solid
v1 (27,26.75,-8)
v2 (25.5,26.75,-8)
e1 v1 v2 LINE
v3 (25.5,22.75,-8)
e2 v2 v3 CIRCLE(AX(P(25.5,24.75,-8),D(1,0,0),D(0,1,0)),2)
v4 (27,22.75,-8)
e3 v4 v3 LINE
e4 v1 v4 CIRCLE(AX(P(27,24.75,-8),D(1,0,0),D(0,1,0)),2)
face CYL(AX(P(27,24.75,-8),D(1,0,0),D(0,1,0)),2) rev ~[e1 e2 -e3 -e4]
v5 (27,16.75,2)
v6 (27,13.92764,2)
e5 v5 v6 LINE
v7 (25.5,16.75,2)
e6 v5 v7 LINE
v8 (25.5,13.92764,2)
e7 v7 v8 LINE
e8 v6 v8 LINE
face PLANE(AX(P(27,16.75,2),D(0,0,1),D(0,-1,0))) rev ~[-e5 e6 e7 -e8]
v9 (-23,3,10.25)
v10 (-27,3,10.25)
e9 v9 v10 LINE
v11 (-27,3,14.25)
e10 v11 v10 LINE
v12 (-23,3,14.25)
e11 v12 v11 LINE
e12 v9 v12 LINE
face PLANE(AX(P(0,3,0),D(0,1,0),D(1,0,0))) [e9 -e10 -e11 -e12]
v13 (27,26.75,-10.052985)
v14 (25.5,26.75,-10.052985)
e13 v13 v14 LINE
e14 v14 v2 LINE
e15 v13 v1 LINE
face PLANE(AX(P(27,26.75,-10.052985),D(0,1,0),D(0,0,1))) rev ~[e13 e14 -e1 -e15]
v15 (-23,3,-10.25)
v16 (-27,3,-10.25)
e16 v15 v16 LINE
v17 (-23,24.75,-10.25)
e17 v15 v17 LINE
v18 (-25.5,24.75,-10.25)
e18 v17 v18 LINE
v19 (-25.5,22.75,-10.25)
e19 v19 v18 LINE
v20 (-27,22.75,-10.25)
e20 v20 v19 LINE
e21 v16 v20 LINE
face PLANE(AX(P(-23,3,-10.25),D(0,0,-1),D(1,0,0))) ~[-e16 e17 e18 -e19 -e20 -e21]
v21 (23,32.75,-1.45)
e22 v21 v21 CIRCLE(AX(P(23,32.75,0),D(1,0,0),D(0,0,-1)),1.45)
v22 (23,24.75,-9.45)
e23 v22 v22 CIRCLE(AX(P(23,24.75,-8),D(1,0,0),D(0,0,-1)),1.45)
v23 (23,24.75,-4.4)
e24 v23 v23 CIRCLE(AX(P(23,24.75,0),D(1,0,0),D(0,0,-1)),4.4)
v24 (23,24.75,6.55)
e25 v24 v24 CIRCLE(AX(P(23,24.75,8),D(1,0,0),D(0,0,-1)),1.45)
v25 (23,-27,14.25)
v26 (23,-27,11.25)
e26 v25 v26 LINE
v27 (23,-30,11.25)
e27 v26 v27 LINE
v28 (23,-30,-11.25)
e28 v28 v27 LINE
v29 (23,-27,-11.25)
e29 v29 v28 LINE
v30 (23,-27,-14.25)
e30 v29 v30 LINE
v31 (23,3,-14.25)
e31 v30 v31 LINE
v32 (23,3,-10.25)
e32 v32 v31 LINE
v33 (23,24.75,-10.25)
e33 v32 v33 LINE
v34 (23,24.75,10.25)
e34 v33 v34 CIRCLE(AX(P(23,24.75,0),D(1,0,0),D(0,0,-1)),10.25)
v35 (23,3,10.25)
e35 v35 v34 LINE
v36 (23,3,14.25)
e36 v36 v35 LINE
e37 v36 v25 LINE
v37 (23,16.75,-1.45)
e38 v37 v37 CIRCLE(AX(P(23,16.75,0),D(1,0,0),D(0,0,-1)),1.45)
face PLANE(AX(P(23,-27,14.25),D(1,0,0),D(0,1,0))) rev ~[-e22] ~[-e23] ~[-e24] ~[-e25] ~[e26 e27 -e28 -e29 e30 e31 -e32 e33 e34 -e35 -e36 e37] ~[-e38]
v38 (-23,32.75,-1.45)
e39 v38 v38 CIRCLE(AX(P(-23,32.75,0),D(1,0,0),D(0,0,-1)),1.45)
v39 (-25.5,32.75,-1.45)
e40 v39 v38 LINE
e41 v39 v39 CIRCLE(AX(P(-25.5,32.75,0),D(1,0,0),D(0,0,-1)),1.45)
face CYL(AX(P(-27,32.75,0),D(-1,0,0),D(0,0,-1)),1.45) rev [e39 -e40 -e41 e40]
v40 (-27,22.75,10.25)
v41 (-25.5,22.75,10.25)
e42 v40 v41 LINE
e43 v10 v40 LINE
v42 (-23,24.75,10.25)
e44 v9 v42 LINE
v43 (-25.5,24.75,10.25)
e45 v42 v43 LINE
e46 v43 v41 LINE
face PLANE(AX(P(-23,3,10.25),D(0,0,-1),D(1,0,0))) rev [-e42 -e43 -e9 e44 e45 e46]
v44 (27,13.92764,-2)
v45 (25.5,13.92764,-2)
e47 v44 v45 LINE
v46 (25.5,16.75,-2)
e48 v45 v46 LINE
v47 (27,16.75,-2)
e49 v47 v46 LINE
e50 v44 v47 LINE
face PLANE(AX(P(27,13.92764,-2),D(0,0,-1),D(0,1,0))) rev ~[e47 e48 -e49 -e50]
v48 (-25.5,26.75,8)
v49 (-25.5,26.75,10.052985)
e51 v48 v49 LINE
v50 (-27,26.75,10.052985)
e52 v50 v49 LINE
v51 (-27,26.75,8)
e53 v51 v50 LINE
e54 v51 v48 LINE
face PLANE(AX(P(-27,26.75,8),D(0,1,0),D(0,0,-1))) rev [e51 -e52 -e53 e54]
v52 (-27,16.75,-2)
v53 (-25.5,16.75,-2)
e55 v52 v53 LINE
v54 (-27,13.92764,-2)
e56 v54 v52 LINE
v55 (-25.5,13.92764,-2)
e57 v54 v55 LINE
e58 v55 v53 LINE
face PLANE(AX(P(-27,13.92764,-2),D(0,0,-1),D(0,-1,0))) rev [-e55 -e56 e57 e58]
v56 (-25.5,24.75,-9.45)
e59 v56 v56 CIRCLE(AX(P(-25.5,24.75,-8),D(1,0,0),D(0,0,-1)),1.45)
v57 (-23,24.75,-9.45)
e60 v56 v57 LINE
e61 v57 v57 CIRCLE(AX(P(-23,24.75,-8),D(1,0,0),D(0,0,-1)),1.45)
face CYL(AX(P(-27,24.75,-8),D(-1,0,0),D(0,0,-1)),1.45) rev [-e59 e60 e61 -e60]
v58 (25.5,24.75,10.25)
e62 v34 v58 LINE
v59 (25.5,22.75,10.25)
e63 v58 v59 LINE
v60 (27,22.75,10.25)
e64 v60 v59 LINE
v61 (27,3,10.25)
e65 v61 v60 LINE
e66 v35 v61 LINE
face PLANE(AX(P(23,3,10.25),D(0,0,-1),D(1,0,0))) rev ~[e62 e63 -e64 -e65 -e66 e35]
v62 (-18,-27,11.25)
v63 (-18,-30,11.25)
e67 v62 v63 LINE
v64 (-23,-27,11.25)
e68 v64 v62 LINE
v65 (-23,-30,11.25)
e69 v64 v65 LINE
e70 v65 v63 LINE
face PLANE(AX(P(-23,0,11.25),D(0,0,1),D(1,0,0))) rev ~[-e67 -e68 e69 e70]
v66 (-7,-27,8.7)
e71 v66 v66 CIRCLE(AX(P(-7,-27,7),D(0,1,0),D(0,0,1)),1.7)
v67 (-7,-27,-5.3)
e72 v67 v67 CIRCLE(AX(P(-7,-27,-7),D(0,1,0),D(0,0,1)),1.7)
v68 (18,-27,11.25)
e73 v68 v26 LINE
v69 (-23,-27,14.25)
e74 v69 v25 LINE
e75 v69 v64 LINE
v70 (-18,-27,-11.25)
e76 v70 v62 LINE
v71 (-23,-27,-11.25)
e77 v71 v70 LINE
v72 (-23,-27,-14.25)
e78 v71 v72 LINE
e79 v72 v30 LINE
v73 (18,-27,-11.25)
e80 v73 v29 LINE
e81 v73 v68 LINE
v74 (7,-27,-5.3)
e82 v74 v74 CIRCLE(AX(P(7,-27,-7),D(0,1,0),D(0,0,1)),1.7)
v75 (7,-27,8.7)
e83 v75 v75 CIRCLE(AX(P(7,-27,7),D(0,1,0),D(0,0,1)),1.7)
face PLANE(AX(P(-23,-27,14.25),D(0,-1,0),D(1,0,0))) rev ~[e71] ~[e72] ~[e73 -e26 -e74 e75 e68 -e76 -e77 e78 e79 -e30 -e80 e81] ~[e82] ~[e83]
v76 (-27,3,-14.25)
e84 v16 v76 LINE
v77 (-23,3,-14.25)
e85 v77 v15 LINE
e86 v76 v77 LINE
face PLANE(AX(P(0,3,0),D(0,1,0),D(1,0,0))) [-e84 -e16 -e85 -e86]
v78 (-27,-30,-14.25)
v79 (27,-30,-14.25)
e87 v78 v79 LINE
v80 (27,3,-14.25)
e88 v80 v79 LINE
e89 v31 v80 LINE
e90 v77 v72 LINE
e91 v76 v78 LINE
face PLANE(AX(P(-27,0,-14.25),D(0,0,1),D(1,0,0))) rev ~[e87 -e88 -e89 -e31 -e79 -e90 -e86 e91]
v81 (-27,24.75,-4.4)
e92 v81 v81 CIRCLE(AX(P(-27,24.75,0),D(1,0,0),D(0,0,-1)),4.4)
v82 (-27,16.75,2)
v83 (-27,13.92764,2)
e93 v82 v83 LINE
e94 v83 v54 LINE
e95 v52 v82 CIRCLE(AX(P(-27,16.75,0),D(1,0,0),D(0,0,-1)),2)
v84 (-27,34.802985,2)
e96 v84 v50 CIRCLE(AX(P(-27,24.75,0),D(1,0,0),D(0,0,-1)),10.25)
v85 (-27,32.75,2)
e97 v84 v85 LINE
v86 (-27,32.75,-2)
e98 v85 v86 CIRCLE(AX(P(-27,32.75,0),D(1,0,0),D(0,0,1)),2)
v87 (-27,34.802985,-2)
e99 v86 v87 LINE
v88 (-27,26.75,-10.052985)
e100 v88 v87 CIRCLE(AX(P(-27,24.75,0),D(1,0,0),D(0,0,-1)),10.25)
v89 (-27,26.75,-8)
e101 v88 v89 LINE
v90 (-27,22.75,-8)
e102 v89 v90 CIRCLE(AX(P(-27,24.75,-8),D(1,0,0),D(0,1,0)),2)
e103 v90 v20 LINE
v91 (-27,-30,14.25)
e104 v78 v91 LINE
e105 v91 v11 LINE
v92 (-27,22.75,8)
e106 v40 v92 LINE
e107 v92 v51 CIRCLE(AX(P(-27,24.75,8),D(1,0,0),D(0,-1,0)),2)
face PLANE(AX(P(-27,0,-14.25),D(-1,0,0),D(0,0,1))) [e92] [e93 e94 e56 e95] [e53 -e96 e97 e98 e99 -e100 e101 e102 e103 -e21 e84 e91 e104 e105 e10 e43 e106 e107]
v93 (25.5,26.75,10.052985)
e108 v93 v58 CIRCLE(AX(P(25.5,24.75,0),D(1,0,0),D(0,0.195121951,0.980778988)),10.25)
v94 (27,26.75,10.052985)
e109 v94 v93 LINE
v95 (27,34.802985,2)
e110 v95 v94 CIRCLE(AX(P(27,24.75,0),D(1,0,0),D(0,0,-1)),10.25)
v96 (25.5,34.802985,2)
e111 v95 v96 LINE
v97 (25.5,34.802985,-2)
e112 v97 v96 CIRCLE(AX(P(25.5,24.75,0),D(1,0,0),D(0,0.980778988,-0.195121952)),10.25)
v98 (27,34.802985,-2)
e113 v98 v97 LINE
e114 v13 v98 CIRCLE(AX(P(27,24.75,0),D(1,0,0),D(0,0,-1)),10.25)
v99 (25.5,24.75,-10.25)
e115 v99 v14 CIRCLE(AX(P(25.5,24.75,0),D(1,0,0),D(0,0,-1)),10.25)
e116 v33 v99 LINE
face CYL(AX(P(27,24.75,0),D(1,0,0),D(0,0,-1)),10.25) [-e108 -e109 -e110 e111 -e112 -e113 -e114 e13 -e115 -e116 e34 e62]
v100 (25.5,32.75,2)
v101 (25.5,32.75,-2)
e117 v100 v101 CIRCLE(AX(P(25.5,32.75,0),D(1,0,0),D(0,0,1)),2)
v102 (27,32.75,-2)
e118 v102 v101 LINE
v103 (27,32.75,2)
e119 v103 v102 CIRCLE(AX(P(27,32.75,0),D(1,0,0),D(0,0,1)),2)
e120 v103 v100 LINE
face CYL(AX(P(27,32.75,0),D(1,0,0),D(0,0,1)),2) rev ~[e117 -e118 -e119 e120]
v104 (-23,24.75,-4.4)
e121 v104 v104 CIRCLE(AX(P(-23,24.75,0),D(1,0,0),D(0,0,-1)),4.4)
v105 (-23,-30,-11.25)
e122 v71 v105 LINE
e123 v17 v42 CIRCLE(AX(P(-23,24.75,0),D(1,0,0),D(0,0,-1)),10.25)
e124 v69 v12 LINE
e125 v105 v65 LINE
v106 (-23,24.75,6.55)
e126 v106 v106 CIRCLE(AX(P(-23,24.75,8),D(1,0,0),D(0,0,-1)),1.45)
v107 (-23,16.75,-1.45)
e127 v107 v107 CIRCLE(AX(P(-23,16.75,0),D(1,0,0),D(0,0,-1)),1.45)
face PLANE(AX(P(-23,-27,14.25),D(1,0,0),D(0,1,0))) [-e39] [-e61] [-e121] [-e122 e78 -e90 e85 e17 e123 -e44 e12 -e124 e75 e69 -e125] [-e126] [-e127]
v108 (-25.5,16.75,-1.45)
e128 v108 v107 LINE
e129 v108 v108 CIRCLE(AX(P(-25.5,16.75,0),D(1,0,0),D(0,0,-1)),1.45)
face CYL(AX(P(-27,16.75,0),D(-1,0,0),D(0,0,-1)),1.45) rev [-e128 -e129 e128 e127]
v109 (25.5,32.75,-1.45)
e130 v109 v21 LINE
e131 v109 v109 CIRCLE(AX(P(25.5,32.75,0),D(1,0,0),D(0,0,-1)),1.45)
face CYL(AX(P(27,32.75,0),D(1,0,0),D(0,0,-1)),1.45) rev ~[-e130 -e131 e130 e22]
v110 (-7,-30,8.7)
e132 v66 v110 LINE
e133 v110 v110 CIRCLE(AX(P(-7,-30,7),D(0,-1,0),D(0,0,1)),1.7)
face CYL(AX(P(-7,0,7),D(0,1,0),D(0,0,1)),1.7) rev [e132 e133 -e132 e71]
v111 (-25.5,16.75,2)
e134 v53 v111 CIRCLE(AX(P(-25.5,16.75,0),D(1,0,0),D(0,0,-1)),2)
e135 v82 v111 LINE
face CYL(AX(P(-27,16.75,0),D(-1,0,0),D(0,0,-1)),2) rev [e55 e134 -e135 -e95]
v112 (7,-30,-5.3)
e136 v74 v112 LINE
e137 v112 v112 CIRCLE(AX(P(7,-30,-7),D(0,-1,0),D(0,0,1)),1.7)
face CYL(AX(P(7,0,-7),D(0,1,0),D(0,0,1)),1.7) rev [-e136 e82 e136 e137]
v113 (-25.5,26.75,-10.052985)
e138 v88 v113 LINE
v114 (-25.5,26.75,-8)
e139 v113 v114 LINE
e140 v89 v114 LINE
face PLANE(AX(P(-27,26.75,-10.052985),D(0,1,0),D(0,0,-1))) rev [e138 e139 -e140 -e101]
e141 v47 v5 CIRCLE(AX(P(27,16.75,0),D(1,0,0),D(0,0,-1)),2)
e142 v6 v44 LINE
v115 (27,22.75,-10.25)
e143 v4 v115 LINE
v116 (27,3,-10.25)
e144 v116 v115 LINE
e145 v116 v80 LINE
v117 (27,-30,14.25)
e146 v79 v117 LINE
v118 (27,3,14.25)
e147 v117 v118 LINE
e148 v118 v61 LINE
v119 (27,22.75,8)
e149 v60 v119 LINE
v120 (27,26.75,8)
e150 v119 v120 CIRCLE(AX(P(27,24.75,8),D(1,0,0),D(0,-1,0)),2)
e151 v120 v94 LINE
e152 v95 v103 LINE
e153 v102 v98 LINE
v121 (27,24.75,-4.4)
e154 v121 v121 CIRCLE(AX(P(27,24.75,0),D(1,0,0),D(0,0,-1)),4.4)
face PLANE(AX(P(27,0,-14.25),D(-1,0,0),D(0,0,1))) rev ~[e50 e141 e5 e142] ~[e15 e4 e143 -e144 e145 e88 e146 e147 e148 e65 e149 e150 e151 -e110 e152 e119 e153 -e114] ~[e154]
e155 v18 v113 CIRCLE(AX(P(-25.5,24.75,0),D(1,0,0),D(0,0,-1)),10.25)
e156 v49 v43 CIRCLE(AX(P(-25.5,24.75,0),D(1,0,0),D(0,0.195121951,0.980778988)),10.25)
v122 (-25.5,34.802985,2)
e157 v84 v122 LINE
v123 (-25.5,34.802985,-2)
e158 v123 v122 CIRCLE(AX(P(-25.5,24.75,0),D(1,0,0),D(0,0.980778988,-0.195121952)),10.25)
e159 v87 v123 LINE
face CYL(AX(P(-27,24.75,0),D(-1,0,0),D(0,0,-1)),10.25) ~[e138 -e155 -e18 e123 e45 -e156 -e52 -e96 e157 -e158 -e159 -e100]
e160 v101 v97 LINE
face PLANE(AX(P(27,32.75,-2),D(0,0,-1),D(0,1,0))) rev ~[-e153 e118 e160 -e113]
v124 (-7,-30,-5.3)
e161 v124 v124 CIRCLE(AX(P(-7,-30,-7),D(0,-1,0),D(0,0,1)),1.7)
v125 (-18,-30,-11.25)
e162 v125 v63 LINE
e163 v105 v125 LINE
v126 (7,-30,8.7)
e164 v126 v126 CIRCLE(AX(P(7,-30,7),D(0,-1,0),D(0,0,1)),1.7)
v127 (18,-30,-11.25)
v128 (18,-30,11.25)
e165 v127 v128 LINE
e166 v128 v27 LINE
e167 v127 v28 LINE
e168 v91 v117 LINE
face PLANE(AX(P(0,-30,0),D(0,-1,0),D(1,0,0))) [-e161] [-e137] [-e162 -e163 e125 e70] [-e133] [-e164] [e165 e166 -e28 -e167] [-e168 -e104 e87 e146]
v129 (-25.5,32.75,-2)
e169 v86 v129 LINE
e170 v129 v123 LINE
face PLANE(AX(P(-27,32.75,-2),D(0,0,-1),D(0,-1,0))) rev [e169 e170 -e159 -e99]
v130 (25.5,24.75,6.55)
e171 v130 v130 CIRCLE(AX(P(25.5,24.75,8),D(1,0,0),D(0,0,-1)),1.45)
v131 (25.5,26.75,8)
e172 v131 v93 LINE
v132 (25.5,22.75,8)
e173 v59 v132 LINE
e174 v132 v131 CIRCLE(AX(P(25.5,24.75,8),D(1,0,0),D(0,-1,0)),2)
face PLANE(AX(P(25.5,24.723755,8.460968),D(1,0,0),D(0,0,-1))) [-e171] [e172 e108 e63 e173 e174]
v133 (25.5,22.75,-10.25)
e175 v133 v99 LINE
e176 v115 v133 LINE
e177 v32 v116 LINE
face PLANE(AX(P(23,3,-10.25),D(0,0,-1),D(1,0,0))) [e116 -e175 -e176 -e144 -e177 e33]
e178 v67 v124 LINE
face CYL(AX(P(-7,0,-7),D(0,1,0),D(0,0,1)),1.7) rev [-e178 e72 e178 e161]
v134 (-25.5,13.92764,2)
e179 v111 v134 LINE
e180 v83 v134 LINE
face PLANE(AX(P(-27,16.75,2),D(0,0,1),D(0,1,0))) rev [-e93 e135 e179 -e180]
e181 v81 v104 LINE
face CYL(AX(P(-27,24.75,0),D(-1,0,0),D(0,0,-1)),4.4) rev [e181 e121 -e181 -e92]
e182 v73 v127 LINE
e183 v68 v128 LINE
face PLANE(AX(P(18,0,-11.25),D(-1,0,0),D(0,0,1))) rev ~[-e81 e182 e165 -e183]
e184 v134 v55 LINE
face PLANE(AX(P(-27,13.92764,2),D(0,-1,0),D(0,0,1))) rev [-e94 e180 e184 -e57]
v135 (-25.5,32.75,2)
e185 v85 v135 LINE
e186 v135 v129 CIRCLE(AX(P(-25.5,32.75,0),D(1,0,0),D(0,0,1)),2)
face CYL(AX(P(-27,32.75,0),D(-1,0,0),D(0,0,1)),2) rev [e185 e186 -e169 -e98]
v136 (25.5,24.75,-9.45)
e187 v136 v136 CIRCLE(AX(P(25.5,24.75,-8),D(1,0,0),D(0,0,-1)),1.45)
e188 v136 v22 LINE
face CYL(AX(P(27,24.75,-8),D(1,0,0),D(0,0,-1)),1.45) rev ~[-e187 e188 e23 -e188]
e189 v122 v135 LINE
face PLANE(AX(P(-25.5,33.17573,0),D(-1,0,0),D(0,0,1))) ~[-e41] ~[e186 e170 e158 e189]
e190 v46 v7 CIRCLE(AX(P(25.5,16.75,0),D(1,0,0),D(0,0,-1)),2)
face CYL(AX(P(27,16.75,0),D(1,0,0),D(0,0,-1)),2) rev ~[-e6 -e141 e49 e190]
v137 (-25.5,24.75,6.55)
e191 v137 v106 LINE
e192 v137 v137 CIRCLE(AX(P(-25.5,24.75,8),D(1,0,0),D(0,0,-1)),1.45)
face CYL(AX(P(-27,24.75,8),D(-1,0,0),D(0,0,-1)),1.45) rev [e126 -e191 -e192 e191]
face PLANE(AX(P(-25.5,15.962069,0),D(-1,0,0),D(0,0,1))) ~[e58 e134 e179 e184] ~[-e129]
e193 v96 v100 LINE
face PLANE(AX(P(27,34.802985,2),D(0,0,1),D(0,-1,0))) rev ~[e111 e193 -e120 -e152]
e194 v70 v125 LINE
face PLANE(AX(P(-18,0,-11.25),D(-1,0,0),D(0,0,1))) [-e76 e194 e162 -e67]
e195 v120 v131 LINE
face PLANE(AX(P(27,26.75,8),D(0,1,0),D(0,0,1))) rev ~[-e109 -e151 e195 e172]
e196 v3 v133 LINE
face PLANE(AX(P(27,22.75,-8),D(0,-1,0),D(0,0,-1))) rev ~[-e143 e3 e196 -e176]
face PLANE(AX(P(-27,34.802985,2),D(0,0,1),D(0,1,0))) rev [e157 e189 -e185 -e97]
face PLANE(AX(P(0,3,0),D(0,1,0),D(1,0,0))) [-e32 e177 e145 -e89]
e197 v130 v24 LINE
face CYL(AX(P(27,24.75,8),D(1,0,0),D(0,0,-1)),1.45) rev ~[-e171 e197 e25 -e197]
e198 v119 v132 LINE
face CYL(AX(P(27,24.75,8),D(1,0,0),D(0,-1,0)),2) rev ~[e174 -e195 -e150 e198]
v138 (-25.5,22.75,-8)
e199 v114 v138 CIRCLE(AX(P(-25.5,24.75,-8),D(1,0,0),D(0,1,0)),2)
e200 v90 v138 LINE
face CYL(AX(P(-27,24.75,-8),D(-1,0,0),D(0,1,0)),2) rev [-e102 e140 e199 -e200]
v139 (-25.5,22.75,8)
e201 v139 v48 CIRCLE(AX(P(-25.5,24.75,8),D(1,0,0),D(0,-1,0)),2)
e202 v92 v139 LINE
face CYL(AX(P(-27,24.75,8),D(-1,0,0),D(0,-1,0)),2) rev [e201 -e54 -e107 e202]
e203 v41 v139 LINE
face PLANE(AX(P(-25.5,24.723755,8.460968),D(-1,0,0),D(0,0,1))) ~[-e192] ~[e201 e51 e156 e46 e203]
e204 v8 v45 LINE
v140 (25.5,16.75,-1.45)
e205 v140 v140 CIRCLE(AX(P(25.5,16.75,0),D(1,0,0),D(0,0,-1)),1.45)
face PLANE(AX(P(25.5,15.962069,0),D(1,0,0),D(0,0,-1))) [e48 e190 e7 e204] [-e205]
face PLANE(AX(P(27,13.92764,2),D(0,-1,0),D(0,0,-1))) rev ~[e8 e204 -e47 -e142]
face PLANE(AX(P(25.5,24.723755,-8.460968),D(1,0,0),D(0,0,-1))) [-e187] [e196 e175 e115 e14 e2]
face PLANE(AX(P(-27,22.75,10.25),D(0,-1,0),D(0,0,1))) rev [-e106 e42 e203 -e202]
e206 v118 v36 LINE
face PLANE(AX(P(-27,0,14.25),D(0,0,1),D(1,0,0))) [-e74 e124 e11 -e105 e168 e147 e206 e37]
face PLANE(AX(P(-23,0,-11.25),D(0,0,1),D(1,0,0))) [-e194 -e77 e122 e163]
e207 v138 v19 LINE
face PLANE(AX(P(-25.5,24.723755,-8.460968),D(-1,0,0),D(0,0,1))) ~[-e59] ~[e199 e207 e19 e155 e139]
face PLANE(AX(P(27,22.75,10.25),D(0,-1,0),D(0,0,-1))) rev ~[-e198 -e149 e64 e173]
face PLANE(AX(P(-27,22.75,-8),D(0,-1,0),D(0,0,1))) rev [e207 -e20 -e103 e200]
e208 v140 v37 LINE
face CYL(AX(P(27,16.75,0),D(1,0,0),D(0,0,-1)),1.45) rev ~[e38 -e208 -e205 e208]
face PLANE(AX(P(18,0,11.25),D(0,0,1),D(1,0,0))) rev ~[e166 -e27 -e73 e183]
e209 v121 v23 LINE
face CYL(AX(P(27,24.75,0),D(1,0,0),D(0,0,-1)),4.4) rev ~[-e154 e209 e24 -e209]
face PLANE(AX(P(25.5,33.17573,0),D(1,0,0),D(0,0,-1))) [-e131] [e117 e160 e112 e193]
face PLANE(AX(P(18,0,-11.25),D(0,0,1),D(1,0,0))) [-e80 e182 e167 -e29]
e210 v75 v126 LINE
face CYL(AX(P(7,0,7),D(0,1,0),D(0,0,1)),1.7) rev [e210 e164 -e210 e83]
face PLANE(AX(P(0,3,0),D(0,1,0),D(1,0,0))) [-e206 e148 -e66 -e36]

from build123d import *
from build123d.topology import SkipClean

# Parameters (mm, degrees)
SKETCH1_W           = 54
SKETCH1_H           = 28.5
SKETCH1_W_2         = 5
SKETCH1_H_2         = 22.5
SKETCH1_R           = 1.7
SKETCH1_R_2         = 7.5
BOSS_EXTRUDE2_DEPTH = 3
SKETCH2_W           = 4
SKETCH2_H           = 20.5
BOSS_EXTRUDE3_DEPTH = 21.75
SKETCH4_R           = 10.25
BOSS_EXTRUDE4_DEPTH = 4
SKETCH6_R           = 4.4
SKETCH6_R_2         = 1.45
CUT_EXTRUDE3_DEPTH  = 4
SKETCH7_R           = 1.45
CUT_EXTRUDE4_DEPTH  = 1.5
SKETCH8_W           = 28.781481152
SKETCH8_H           = 28.5
BOSS_EXTRUDE5_DEPTH = 3
SKETCH9_R           = 1.7
CUT_EXTRUDE5_DEPTH  = 3
SKETCH10_W          = 54
SKETCH10_H          = 28.5
SKETCH10_R          = 1.7
SKETCH10_W_2        = 5
SKETCH10_H_2        = 22.5
BOSS_EXTRUDE7_DEPTH = 30
SKETCH11_W          = 46
SKETCH11_H          = 30
CUT_EXTRUDE6_DEPTH  = 30


with BuildPart() as part:
    # Sketch1 → Boss-Extrude2 (new body)
    with BuildSketch(Plane(origin=(0, 0, 0), x_dir=(1, 0, 0), z_dir=(0, 1, 0))):
        Rectangle(SKETCH1_W, SKETCH1_H)
        with Locations((20.5, 0)):
            Rectangle(SKETCH1_W_2, SKETCH1_H_2, mode=Mode.SUBTRACT)
        with Locations((-20.5, 0)):
            Rectangle(SKETCH1_W_2, SKETCH1_H_2, mode=Mode.SUBTRACT)
        with Locations(Location((-9, -8.25, 0), (0, 0, 270))):
            Circle(SKETCH1_R, mode=Mode.SUBTRACT)
        with Locations(Location((9, -8.25, 0), (0, 0, 270))):
            Circle(SKETCH1_R, mode=Mode.SUBTRACT)
        with Locations(Location((-9, 8.25, 0), (0, 0, 270))):
            Circle(SKETCH1_R, mode=Mode.SUBTRACT)
        with Locations(Location((0, 0, 0), (0, 0, 270))):
            Circle(SKETCH1_R_2, mode=Mode.SUBTRACT)
        with Locations(Location((9, 8.25, 0), (0, 0, 270))):
            Circle(SKETCH1_R, mode=Mode.SUBTRACT)
    extrude(amount=BOSS_EXTRUDE2_DEPTH)

    # Sketch2 → Boss-Extrude3 (add)
    with BuildSketch(Plane(origin=(0, 3, 0), x_dir=(1, 0, 0), z_dir=(0, 1, 0))):
        with Locations((25, 0)):
            Rectangle(SKETCH2_W, SKETCH2_H)
    boss_extrude3 = extrude(amount=BOSS_EXTRUDE3_DEPTH)

    # Sketch4 → Boss-Extrude4 (add)
    with BuildSketch(Plane(origin=(27, 0, 0), x_dir=(0, 0, -1), z_dir=(1, 0, 0))):
        with Locations((0, 24.75)):
            Circle(SKETCH4_R)
    boss_extrude4 = extrude(amount=-BOSS_EXTRUDE4_DEPTH)

    # Mirror1: Boss-Extrude3, Boss-Extrude4 across plane
    add(boss_extrude3.mirror(Plane(origin=(0, 0, 0), x_dir=(0, 0, 1), z_dir=(1, 0, 0))))
    add(boss_extrude4.mirror(Plane(origin=(0, 0, 0), x_dir=(0, 0, 1), z_dir=(1, 0, 0))))

    # Sketch6 → Cut-Extrude3 (cut)
    with BuildSketch(Plane(origin=(27, 0, 0), x_dir=(0, 0, -1), z_dir=(1, 0, 0))):
        with Locations((0, 24.75)):
            Circle(SKETCH6_R)
        with Locations((0, 32.75)):
            Circle(SKETCH6_R_2)
        with Locations((8, 24.75)):
            Circle(SKETCH6_R_2)
        with Locations((0, 16.75)):
            Circle(SKETCH6_R_2)
        with Locations((-8, 24.75)):
            Circle(SKETCH6_R_2)
    cut_extrude3 = extrude(amount=-CUT_EXTRUDE3_DEPTH, mode=Mode.SUBTRACT)

    # Mirror3: Cut-Extrude3 across plane
    add(cut_extrude3.mirror(Plane(origin=(0, 0, 0), x_dir=(0, 0, 1), z_dir=(1, 0, 0))), mode=Mode.SUBTRACT)

    # Sketch7 → Cut-Extrude4 (cut)
    # profile 1 of 4: a face of its own
    with BuildSketch(Plane(origin=(27, 0, 0), x_dir=(0, 0, -1), z_dir=(1, 0, 0))):
        with BuildLine():
            ThreePointArc((10.25, 24.75), (10.200627247, 25.754840168), (10.052984631, 26.75))
            Line((10.052984631, 26.75), (8, 26.75))
            ThreePointArc((8, 26.75), (6, 24.75), (8, 22.75))
            Line((8, 22.75), (10.25, 22.75))
            Line((10.25, 22.75), (10.25, 24.75))
        make_face()
        with Locations((8, 24.75)):
            Circle(SKETCH7_R, mode=Mode.SUBTRACT)
    # profile 2 of 4: a face of its own
    with BuildSketch(Plane(origin=(27, 0, 0), x_dir=(0, 0, -1), z_dir=(1, 0, 0))):
        with BuildLine():
            Line((2, 32.75), (2, 34.802984631))
            ThreePointArc((2, 34.802984631), (0, 35), (-2, 34.802984631))
            Line((-2, 34.802984631), (-2, 32.75))
            ThreePointArc((-2, 32.75), (0, 30.75), (2, 32.75))
        make_face()
        with Locations((0, 32.75)):
            Circle(SKETCH7_R, mode=Mode.SUBTRACT)
    # profile 3 of 4: a face of its own
    with BuildSketch(Plane(origin=(27, 0, 0), x_dir=(0, 0, -1), z_dir=(1, 0, 0))):
        with BuildLine():
            Line((-8, 26.75), (-10.052984631, 26.75))
            ThreePointArc((-10.052984631, 26.75), (-10.200627247, 25.754840168), (-10.25, 24.75))
            Line((-10.25, 24.75), (-10.25, 22.75))
            Line((-10.25, 22.75), (-8, 22.75))
            ThreePointArc((-8, 22.75), (-6, 24.75), (-8, 26.75))
        make_face()
        with Locations((-8, 24.75)):
            Circle(SKETCH7_R, mode=Mode.SUBTRACT)
    # profile 4 of 4: a face of its own
    with BuildSketch(Plane(origin=(27, 0, 0), x_dir=(0, 0, -1), z_dir=(1, 0, 0))):
        with BuildLine():
            Line((-2, 16.75), (-2, 13.927640071))
            Line((-2, 13.927640071), (2, 13.927640071))
            Line((2, 13.927640071), (2, 16.75))
            ThreePointArc((2, 16.75), (0, 18.75), (-2, 16.75))
        make_face()
        with Locations((0, 16.75)):
            Circle(SKETCH7_R, mode=Mode.SUBTRACT)
    cut_extrude4 = extrude(amount=-CUT_EXTRUDE4_DEPTH, mode=Mode.SUBTRACT)

    # Mirror4: Cut-Extrude4 across plane
    add(cut_extrude4.mirror(Plane(origin=(0, 0, 0), x_dir=(0, 0, 1), z_dir=(1, 0, 0))), mode=Mode.SUBTRACT)

    # Sketch8 → Boss-Extrude5 (add)
    with BuildSketch(Plane(origin=(0, 3, 0), x_dir=(1, 0, 0), z_dir=(0, 1, 0))):
        Rectangle(SKETCH8_W, SKETCH8_H)
    extrude(amount=-BOSS_EXTRUDE5_DEPTH)

    # Sketch9 → Cut-Extrude5 (cut)
    with BuildSketch(Plane(origin=(0, 3, 0), x_dir=(1, 0, 0), z_dir=(0, 1, 0))):
        with BuildLine():
            ThreePointArc((-5.3, -7), (-5.797918472, -5.797918472), (-7, -5.3))
            Line((-7, -5.3), (-7, -7))
            Line((-7, -7), (-5.3, -7))
        make_face()
        with BuildLine():
            Line((-7, -7), (-7, -5.3))
            ThreePointArc((-7, -5.3), (-8.202081528, -8.202081528), (-5.3, -7))
            Line((-5.3, -7), (-7, -7))
        make_face()
        with BuildLine():
            ThreePointArc((8.7, -7), (8.202081528, -5.797918472), (7, -5.3))
            Line((7, -5.3), (7, -7))
            Line((7, -7), (5.3, -7))
            ThreePointArc((5.3, -7), (7, -8.7), (8.7, -7))
        make_face()
        with BuildLine():
            Line((7, -7), (7, -5.3))
            ThreePointArc((7, -5.3), (5.797918472, -5.797918472), (5.3, -7))
            Line((5.3, -7), (7, -7))
        make_face()
        with BuildLine():
            ThreePointArc((8.7, 7), (7, 8.7), (5.3, 7))
            Line((5.3, 7), (7, 7))
            Line((7, 7), (7, 5.3))
            ThreePointArc((7, 5.3), (8.202081528, 5.797918472), (8.7, 7))
        make_face()
        with BuildLine():
            Line((7, 7), (5.3, 7))
            ThreePointArc((5.3, 7), (5.797918472, 5.797918472), (7, 5.3))
            Line((7, 5.3), (7, 7))
        make_face()
        with Locations(Location((-7, 7, 0), (0, 0, 270))):
            Circle(SKETCH9_R)
    extrude(amount=-CUT_EXTRUDE5_DEPTH, mode=Mode.SUBTRACT)

    # Sketch10 → Boss-Extrude7 (add)
    with SkipClean():  # the faces are left unmerged after this step: merging them gives an invalid solid
        with BuildSketch(Plane.XZ):
            Rectangle(SKETCH10_W, SKETCH10_H)
            with Locations(Location((-7, 7, 0), (0, 0, 90))):
                Circle(SKETCH10_R, mode=Mode.SUBTRACT)
            with Locations(Location((7, 7, 0), (0, 0, 90))):
                Circle(SKETCH10_R, mode=Mode.SUBTRACT)
            with Locations(Location((7, -7, 0), (0, 0, 90))):
                Circle(SKETCH10_R, mode=Mode.SUBTRACT)
            with Locations(Location((-7, -7, 0), (0, 0, 90))):
                Circle(SKETCH10_R, mode=Mode.SUBTRACT)
            with Locations((-20.5, 0)):
                Rectangle(SKETCH10_W_2, SKETCH10_H_2, mode=Mode.SUBTRACT)
            with Locations((20.5, 0)):
                Rectangle(SKETCH10_W_2, SKETCH10_H_2, mode=Mode.SUBTRACT)
        extrude(amount=BOSS_EXTRUDE7_DEPTH)

    # Sketch11 → Cut-Extrude6 (cut)
    with BuildSketch(Plane.XY.offset(14.25)):
        with Locations((0, -12)):
            Rectangle(SKETCH11_W, SKETCH11_H)
    extrude(amount=-CUT_EXTRUDE6_DEPTH, mode=Mode.SUBTRACT)


solid = part.part
